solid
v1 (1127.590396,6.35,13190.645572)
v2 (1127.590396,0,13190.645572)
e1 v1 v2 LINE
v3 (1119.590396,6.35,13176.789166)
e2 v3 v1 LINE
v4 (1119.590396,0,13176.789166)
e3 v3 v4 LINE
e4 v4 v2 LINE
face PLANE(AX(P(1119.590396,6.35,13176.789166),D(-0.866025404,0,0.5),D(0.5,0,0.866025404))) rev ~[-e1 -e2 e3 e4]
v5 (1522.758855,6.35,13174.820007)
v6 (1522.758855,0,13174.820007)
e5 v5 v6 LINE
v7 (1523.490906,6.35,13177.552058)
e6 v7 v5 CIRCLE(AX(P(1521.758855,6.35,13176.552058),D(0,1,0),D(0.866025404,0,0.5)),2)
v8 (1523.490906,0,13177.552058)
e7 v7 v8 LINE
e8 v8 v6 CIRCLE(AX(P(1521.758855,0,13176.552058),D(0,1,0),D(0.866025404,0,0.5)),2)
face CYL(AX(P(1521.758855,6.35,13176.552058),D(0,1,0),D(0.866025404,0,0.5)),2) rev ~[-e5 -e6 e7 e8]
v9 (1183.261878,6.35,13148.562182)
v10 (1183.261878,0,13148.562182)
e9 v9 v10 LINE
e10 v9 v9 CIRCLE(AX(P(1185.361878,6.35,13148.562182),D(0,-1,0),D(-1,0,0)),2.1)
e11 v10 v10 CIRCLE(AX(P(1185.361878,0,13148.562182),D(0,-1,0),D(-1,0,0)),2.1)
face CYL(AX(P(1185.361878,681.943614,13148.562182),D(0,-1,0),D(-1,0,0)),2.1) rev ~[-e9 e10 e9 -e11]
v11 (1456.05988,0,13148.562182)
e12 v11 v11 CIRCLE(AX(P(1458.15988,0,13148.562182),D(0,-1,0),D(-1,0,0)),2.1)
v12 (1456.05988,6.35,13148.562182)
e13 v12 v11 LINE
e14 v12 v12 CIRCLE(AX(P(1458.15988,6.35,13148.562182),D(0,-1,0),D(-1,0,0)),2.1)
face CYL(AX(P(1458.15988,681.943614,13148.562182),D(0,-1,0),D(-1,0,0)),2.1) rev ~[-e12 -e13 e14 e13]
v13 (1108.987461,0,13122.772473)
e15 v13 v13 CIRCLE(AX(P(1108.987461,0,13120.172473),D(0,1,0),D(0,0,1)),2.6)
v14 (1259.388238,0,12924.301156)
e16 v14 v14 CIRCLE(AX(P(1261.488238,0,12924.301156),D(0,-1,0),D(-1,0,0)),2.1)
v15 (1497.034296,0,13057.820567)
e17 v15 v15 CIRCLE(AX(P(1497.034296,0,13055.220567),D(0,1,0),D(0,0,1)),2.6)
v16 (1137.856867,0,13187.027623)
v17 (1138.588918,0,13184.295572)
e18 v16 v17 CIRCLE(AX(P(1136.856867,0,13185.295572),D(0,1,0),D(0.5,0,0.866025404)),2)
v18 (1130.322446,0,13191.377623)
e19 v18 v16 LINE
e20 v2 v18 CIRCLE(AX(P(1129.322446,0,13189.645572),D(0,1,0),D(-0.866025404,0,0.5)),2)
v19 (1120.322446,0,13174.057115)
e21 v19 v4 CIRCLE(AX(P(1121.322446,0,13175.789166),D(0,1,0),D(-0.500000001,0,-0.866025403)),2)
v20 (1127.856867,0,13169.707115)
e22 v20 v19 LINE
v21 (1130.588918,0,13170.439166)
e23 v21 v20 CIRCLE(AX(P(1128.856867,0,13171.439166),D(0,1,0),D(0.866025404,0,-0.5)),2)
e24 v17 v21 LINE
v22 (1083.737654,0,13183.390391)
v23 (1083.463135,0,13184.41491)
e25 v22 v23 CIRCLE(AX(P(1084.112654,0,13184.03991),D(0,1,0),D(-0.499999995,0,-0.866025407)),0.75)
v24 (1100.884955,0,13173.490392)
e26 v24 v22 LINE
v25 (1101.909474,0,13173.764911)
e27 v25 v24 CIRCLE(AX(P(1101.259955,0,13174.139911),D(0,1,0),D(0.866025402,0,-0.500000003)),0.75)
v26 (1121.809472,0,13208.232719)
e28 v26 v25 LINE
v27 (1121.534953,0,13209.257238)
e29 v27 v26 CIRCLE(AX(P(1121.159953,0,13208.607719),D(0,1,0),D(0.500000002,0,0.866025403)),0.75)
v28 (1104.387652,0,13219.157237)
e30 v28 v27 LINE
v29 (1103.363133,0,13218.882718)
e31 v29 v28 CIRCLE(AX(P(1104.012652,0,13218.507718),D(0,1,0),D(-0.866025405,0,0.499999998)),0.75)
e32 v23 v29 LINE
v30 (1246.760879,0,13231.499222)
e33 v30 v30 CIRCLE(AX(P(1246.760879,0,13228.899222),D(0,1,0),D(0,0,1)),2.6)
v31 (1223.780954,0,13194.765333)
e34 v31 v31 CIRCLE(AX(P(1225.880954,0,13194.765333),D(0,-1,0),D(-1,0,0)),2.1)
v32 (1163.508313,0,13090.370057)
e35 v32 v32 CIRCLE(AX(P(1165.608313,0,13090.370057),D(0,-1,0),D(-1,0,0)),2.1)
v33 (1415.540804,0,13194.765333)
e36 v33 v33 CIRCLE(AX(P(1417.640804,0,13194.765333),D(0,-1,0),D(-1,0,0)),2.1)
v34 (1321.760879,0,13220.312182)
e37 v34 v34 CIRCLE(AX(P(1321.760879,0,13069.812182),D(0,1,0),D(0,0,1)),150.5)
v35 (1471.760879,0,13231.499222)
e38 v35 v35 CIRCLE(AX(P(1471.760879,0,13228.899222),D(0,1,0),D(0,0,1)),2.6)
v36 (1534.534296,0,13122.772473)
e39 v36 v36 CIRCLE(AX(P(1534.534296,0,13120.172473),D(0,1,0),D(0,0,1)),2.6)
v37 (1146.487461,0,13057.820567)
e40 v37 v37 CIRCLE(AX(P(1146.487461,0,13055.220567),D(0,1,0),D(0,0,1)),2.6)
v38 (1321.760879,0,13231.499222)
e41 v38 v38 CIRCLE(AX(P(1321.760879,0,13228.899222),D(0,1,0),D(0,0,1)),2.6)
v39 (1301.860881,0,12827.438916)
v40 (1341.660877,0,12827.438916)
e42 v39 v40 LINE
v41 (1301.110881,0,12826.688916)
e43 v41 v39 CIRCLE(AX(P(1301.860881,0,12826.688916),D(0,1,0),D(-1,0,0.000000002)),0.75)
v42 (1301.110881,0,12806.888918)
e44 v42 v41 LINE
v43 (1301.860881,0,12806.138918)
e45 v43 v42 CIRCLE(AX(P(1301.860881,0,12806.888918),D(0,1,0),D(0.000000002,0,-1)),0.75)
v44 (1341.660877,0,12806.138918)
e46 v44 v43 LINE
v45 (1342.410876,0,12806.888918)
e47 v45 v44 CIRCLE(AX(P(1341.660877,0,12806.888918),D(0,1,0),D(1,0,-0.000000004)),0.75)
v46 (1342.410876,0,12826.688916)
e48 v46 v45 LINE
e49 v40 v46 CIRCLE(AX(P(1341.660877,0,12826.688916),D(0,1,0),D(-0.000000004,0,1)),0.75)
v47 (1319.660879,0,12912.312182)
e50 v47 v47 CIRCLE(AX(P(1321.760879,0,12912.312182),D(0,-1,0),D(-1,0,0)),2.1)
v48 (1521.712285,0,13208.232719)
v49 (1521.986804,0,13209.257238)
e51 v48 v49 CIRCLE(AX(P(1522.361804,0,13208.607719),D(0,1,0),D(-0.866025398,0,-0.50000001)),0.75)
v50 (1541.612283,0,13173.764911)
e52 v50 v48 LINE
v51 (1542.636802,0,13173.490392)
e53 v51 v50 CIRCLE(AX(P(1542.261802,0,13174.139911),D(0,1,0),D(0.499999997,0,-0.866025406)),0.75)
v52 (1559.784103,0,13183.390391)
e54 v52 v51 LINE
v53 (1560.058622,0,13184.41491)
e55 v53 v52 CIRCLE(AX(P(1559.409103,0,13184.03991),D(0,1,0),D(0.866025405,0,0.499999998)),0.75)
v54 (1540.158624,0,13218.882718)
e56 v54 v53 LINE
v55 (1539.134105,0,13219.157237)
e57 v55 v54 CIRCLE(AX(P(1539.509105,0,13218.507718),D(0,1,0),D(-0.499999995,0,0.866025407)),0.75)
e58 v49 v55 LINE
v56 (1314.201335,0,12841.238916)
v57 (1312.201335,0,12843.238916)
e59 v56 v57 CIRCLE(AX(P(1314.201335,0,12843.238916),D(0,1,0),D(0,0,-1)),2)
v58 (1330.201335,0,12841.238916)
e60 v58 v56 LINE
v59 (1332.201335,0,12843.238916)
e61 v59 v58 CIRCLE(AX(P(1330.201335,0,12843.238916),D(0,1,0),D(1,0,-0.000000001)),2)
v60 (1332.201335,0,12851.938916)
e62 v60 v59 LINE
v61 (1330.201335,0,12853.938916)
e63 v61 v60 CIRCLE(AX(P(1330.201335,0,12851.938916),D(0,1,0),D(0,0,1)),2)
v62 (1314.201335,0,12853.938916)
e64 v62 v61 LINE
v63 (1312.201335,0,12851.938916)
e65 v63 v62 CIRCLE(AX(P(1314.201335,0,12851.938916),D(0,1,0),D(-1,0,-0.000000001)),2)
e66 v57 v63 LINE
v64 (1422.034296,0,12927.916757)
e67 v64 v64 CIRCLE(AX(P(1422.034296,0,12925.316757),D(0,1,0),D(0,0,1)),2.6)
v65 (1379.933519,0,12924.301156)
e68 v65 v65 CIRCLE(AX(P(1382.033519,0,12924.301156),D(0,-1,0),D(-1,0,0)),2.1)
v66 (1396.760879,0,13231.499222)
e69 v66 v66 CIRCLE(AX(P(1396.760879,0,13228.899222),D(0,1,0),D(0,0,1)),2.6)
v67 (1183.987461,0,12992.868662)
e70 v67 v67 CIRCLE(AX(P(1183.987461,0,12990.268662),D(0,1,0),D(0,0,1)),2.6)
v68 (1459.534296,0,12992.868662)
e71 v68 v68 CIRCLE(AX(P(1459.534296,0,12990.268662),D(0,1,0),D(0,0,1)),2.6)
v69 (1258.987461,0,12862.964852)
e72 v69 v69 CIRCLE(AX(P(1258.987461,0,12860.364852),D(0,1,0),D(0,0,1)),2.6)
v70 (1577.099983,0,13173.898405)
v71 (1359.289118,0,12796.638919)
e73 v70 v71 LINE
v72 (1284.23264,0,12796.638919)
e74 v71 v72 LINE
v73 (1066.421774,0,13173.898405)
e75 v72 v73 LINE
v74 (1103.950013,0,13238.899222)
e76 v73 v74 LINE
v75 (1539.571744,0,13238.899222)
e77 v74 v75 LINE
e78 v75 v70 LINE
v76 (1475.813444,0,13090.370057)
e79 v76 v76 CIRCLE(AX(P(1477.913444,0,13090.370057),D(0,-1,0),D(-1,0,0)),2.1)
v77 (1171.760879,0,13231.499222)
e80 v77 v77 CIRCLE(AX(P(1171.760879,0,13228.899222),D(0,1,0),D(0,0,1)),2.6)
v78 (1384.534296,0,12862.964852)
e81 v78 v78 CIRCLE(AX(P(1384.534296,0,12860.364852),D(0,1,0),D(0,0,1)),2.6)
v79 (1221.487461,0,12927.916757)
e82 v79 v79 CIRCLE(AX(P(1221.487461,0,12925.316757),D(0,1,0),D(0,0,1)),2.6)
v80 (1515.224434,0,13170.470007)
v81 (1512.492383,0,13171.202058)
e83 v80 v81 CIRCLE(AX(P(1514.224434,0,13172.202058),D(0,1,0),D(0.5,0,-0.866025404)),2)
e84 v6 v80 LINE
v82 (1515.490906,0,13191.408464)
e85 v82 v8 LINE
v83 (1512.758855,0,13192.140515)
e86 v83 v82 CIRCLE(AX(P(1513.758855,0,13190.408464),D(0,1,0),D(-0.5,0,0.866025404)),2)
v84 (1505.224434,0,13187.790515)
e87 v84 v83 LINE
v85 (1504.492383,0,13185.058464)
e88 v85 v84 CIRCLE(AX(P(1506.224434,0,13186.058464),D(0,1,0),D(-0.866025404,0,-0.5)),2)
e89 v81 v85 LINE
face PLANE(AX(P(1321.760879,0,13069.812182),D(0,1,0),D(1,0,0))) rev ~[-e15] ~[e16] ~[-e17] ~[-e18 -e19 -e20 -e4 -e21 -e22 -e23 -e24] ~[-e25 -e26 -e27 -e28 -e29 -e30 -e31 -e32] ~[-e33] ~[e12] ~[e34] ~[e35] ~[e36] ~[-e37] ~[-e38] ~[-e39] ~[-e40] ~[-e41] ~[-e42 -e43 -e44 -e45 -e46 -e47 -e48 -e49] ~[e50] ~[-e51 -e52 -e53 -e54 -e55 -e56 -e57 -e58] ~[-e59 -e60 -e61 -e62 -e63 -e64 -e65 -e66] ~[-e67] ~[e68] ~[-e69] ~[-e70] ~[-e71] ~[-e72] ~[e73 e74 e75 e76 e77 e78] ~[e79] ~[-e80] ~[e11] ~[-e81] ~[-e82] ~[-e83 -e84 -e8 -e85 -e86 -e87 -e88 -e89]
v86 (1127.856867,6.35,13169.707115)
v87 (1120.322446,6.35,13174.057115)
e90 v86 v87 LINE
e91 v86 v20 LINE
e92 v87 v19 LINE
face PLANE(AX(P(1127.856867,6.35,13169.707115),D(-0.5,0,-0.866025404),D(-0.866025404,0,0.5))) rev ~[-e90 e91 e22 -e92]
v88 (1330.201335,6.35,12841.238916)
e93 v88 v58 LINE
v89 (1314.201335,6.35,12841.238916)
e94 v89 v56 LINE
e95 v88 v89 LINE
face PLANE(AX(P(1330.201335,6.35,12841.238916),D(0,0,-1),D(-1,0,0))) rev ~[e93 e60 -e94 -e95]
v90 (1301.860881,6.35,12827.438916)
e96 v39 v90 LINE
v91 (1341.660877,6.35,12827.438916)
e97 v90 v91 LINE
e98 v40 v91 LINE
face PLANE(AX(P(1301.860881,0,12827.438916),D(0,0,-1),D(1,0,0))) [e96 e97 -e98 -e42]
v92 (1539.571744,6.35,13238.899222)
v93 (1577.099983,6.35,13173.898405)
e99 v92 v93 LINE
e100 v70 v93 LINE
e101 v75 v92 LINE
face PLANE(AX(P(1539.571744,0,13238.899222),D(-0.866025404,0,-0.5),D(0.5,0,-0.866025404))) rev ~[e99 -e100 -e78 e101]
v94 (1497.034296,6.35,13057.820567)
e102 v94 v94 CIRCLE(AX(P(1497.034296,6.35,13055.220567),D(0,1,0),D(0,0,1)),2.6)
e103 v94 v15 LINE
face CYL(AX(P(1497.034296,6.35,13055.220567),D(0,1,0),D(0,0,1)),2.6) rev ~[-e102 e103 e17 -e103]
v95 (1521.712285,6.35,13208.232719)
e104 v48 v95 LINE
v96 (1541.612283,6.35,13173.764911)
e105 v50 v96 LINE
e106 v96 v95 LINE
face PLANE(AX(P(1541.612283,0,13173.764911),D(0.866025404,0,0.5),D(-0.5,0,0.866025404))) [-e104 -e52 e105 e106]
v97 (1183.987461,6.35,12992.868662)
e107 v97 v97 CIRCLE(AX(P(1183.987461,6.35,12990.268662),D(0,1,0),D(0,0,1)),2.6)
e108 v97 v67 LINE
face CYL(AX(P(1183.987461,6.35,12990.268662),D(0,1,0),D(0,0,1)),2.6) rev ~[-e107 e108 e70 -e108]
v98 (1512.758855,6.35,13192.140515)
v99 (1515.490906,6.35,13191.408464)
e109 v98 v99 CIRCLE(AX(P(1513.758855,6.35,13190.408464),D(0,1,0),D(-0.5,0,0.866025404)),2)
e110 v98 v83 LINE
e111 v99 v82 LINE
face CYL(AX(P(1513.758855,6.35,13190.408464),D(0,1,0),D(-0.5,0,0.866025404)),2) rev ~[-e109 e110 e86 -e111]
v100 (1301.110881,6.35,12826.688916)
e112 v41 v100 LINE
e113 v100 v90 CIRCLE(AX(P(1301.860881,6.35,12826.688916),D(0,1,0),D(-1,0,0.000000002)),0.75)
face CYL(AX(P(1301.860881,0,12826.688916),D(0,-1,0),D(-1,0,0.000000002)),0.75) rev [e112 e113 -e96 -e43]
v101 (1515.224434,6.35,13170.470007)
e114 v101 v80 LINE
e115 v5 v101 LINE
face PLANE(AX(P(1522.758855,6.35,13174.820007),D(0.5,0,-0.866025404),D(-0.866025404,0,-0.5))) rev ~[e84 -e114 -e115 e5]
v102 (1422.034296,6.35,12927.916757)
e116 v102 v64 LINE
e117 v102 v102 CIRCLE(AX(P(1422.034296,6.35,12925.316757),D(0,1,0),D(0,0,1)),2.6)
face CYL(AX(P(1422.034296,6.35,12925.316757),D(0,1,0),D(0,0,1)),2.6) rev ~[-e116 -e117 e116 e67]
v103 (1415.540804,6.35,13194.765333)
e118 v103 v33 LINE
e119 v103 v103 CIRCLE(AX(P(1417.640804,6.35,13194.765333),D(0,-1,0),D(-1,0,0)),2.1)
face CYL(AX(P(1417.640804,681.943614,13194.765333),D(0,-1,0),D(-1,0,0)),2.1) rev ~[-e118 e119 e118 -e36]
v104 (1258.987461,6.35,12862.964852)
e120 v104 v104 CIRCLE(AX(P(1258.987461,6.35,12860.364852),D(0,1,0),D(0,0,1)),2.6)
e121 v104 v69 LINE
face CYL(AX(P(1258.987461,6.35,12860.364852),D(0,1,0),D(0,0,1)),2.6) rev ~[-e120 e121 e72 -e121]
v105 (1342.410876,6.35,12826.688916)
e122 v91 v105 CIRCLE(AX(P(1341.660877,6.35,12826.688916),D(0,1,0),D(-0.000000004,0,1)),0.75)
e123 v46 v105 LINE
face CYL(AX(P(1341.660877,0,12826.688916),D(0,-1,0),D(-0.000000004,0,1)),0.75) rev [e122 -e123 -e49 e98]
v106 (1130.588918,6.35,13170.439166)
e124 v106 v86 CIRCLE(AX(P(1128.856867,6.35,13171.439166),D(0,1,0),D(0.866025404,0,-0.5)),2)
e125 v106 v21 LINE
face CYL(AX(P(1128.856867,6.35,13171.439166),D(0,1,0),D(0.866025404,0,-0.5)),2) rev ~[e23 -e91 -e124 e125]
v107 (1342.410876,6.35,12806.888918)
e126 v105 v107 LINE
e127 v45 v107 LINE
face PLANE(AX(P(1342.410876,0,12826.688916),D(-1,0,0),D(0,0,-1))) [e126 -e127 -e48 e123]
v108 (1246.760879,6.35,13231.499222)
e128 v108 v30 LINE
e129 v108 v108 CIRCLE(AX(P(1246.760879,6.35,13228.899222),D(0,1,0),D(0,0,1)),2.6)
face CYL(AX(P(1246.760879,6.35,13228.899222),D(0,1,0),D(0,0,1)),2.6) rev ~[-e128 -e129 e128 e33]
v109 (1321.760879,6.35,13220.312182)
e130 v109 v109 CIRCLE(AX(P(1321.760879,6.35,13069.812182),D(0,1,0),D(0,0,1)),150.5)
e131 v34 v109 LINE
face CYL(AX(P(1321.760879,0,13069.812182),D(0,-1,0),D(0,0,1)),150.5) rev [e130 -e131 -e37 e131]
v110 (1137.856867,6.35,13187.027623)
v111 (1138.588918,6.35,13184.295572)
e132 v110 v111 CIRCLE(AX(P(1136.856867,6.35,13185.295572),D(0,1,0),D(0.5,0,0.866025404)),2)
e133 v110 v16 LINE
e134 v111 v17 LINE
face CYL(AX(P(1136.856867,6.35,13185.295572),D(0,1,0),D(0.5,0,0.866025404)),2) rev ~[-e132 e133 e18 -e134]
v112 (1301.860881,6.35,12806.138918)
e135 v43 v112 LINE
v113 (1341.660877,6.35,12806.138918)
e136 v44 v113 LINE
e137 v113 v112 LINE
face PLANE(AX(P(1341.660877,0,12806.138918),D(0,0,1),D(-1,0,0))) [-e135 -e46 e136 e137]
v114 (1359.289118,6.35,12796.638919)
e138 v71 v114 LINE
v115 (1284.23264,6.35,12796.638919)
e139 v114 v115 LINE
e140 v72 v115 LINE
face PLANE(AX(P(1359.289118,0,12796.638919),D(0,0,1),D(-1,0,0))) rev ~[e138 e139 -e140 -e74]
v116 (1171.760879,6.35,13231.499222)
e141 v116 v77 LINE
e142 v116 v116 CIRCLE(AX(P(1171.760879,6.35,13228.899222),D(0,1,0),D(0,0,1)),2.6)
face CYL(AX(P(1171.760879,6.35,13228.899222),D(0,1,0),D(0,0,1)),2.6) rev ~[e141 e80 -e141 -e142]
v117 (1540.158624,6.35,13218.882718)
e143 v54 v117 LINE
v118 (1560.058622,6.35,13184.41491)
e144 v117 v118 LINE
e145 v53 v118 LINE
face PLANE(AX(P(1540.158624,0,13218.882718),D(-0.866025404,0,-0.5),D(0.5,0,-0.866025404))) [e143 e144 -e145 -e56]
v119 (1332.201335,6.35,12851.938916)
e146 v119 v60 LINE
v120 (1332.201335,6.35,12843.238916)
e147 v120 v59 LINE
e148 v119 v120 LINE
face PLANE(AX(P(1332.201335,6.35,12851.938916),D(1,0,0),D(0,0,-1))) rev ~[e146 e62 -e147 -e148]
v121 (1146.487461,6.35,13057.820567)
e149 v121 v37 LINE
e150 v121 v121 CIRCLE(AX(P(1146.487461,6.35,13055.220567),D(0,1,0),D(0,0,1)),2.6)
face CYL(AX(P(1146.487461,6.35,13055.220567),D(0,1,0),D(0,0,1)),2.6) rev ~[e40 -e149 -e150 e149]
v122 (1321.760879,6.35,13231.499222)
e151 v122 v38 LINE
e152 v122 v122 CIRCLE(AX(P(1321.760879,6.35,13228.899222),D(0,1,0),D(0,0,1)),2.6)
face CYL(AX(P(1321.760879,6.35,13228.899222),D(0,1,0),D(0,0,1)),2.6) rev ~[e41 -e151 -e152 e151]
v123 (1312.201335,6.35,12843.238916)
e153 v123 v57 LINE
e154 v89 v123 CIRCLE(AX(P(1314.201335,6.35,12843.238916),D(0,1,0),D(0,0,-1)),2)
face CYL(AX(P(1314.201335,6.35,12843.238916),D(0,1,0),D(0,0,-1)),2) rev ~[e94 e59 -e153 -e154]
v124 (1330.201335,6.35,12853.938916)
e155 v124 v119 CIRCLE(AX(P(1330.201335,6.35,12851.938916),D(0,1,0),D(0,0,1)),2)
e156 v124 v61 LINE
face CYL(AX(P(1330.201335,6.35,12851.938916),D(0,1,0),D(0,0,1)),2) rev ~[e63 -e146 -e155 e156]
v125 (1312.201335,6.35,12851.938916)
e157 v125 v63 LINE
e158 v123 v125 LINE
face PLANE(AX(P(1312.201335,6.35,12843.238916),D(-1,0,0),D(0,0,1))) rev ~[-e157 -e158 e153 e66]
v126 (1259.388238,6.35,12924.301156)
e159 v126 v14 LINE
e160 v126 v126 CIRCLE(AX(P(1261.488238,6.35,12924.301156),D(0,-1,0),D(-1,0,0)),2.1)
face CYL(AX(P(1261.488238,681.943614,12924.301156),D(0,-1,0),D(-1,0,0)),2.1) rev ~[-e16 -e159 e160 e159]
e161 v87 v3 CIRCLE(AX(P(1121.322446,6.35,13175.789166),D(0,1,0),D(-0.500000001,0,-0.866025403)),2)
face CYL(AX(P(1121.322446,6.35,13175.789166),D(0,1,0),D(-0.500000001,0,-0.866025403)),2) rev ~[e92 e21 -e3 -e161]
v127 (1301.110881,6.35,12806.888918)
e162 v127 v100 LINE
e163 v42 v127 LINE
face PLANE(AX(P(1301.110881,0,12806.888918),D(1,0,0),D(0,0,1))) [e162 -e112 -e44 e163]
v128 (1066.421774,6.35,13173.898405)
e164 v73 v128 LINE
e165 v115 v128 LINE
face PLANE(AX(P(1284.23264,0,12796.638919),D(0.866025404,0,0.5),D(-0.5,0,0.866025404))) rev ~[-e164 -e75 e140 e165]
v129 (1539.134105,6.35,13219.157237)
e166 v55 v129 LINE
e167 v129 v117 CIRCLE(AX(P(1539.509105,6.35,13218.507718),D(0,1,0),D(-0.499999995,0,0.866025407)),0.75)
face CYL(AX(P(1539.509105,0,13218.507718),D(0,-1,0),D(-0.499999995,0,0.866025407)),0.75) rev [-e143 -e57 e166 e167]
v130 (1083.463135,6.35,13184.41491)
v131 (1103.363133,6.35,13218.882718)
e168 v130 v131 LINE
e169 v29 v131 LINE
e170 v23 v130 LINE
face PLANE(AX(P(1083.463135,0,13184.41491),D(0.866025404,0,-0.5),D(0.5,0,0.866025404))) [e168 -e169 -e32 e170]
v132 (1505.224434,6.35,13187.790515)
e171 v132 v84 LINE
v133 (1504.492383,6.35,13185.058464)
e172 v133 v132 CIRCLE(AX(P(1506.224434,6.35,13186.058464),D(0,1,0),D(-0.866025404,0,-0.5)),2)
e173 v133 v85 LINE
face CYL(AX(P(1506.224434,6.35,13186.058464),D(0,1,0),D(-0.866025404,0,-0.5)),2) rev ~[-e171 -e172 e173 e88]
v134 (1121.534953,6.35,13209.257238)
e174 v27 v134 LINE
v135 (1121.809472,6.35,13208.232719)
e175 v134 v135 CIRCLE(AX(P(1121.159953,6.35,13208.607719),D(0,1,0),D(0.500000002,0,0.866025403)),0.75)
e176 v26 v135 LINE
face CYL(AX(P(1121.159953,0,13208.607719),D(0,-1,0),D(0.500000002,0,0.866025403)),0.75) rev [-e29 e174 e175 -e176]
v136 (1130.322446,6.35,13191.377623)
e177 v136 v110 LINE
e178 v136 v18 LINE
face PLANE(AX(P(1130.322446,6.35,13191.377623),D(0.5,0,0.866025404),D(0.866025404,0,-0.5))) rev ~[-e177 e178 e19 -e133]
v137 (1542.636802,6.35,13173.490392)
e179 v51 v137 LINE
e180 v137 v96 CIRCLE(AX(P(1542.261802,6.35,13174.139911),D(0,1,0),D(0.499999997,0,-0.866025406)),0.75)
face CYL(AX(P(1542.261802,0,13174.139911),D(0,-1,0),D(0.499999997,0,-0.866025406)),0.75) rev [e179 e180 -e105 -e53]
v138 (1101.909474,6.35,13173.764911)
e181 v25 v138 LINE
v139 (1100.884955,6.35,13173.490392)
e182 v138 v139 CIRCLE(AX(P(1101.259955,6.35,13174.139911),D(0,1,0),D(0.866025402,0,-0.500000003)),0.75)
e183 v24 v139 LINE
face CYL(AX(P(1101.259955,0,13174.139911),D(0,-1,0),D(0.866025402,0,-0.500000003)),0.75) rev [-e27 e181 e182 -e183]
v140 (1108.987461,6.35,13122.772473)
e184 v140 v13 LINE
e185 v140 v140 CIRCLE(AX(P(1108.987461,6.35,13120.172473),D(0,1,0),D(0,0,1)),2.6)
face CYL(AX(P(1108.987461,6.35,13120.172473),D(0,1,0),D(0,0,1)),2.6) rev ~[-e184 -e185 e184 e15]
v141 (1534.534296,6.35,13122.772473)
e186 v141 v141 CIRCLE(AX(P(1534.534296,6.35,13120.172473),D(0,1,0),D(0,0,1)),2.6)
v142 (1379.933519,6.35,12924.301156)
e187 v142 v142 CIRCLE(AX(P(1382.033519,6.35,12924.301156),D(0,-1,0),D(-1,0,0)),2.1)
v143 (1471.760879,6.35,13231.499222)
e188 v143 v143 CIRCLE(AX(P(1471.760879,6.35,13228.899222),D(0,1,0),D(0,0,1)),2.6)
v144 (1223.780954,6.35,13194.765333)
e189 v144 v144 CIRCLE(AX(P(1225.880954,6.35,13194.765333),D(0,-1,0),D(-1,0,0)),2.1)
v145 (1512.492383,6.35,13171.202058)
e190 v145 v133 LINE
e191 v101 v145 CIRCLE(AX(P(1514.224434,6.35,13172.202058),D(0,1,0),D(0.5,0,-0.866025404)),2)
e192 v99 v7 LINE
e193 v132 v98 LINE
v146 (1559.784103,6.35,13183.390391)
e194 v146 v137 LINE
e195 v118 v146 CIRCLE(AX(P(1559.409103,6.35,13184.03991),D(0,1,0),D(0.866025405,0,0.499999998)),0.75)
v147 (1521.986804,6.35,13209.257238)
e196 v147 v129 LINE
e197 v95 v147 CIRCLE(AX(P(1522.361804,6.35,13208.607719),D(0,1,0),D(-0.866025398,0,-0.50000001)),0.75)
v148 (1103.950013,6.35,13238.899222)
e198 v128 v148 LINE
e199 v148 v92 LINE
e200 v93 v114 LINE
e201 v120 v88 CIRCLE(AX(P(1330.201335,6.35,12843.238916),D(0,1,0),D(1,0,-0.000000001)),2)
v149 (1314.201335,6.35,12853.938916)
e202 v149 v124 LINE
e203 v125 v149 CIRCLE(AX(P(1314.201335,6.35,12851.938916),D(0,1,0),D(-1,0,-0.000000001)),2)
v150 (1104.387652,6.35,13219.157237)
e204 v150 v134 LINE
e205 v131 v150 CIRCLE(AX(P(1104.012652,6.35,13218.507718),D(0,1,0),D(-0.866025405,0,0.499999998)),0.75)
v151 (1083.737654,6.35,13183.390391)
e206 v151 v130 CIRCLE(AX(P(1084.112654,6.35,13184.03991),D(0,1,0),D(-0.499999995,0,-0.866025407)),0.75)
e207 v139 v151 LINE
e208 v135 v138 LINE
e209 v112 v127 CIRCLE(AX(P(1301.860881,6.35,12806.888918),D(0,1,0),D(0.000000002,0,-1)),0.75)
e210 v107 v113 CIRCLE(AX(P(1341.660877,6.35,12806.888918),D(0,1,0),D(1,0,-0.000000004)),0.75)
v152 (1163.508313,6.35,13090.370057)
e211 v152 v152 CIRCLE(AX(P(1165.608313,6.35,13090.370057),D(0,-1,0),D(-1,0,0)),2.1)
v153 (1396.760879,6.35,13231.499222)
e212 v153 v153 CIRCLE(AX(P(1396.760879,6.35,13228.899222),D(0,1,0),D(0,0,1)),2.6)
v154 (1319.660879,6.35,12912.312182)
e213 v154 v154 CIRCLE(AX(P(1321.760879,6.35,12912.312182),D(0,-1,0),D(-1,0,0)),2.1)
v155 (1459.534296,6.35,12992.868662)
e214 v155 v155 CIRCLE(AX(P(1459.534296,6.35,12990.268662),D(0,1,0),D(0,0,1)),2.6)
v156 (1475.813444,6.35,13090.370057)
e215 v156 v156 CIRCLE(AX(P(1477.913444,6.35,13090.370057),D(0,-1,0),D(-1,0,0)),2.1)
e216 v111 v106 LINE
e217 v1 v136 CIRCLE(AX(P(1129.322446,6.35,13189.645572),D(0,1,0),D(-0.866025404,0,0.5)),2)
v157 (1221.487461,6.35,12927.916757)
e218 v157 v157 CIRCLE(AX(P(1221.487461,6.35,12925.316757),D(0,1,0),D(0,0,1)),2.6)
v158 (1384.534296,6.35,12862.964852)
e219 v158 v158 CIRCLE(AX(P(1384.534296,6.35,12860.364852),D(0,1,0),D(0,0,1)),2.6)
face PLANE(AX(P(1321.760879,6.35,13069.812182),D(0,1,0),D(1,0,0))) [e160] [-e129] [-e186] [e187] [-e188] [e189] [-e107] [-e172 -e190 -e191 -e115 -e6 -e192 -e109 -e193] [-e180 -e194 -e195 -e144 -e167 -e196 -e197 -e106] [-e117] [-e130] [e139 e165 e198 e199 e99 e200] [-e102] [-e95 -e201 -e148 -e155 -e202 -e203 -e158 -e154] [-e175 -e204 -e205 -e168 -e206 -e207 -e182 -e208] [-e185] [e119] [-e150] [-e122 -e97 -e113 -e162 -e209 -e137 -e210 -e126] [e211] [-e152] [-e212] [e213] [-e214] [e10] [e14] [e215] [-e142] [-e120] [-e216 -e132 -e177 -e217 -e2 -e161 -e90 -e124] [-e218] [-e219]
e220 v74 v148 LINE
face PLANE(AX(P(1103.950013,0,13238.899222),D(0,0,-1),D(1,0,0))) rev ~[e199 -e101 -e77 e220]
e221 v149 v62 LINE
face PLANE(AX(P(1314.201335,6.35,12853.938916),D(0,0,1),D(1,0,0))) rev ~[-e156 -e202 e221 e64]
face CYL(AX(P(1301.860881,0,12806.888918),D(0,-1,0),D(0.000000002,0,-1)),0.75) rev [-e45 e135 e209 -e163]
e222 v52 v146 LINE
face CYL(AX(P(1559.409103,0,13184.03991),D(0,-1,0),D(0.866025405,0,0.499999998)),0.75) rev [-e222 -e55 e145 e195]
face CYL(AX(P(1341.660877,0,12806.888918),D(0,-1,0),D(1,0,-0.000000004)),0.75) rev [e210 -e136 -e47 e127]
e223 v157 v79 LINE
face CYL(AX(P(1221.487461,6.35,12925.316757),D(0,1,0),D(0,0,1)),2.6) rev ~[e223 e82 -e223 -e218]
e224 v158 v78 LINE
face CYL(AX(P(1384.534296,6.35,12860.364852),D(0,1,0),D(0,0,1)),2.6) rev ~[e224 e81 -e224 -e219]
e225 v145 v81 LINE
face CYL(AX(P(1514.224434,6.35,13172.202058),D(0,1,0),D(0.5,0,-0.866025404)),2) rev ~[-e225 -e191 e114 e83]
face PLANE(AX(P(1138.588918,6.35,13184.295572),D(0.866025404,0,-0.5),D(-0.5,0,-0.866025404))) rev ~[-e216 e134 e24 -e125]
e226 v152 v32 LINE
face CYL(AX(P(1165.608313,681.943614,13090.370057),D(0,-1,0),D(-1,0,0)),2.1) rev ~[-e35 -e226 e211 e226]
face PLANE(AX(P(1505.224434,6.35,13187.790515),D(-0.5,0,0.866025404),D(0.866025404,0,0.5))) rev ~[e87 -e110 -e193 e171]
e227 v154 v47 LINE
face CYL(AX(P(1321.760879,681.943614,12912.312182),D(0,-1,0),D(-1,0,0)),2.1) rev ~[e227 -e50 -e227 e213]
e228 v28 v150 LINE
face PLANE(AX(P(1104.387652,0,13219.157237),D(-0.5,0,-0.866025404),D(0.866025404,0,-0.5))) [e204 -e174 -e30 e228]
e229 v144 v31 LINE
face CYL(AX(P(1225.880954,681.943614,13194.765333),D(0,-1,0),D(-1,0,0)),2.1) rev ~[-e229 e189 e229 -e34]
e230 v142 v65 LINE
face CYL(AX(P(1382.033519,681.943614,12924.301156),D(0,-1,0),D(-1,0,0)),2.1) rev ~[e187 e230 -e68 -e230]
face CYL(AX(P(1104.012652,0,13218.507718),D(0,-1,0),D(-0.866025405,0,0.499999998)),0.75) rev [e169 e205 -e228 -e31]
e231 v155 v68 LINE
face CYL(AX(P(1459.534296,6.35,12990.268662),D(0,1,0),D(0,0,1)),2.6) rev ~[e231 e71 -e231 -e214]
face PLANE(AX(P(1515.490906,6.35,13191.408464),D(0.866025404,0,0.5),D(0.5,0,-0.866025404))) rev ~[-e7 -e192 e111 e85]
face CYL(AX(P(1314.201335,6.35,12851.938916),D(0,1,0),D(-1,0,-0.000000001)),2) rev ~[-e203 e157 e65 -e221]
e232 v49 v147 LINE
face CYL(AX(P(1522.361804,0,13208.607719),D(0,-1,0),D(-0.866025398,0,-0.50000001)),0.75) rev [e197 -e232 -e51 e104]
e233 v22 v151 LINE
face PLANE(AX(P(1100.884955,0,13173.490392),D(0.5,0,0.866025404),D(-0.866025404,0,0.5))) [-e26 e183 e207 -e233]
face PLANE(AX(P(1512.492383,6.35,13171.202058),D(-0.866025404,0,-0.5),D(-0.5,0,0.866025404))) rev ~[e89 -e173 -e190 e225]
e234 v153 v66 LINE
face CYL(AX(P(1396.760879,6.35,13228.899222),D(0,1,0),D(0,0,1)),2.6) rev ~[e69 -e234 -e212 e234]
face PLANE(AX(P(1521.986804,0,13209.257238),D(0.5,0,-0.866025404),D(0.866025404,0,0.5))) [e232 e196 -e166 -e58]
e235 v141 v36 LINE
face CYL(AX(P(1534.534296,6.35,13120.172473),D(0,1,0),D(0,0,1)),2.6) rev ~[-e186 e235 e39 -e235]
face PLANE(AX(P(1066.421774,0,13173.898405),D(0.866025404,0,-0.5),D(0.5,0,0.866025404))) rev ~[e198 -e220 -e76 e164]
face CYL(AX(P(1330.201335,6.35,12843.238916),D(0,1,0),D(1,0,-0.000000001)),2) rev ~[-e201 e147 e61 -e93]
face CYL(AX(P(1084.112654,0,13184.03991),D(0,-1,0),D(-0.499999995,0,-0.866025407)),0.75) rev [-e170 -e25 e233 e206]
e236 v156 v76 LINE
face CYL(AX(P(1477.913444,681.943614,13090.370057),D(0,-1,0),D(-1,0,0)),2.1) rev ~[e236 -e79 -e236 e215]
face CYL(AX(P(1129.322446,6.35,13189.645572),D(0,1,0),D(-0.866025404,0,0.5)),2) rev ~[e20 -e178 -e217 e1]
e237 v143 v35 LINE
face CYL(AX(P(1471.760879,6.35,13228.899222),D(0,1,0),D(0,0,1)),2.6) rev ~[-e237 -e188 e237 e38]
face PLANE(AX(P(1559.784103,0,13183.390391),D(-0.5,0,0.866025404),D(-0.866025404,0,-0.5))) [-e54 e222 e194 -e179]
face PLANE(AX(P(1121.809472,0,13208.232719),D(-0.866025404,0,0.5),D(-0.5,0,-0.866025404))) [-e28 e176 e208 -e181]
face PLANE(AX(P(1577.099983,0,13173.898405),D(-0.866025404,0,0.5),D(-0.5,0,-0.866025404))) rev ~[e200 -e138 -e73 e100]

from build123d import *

# Parameters (mm, degrees)
SKETCH1_R             = 150.5
BOSS_EXTRUDE1_DEPTH   = 6.35
SKETCH3_R             = 2.6
CUT_EXTRUDE2_DEPTH    = 10
M5X0_8_TAPPED_HOLE1_D = 4.2
CUT_EXTRUDE3_DEPTH    = 10


with BuildPart() as part:
    # Sketch1 → Boss-Extrude1 (new body)
    with BuildSketch(Plane(origin=(-388.281715987, 0, -288.185661777), x_dir=(1, 0, 0), z_dir=(0, 1, 0))):
        Polygon((1747.570833697, -13084.824581071), (1672.514355591, -13084.824581071), (1454.703489965, -13462.084066777), (1492.231729019, -13527.084883536), (1927.853460271, -13527.084883536), (1965.381699324, -13462.084066777), align=None)
        with Locations(Location((1710.042594644, -13357.997843795, 0), (0, 0, 270))):
            Circle(SKETCH1_R, mode=Mode.SUBTRACT)
        with BuildLine():
            Line((1730.692592416, -13114.874577827), (1730.692592416, -13095.074579966))
            ThreePointArc((1730.692592416, -13095.074579966), (1730.472922526, -13094.544249938), (1729.942592497, -13094.324580043))
            Line((1729.942592497, -13094.324580043), (1690.142596792, -13094.324580043))
            ThreePointArc((1690.142596792, -13094.324580043), (1689.612266761, -13094.544249935), (1689.392596873, -13095.074579966))
            Line((1689.392596873, -13095.074579966), (1689.392596873, -13114.874577827))
            ThreePointArc((1689.392596873, -13114.874577827), (1689.612266763, -13115.404907856), (1690.142596792, -13115.62457775))
            Line((1690.142596792, -13115.62457775), (1729.942592497, -13115.62457775))
            ThreePointArc((1729.942592497, -13115.62457775), (1730.472922528, -13115.404907859), (1730.692592416, -13114.874577827))
        make_face(mode=Mode.SUBTRACT)
        with BuildLine():
            Line((1492.669367808, -13507.342898369), (1509.816668952, -13497.442899438))
            ThreePointArc((1509.816668952, -13497.442899438), (1510.166113284, -13496.987494718), (1510.091187977, -13496.418380495))
            Line((1510.091187977, -13496.418380495), (1490.191190123, -13461.950573141))
            ThreePointArc((1490.191190123, -13461.950573141), (1489.735785404, -13461.60112881), (1489.166671181, -13461.676054117))
            Line((1489.166671181, -13461.676054117), (1472.019370034, -13471.57605305))
            ThreePointArc((1472.019370034, -13471.57605305), (1471.669925699, -13472.031457773), (1471.744851013, -13472.600571998))
            Line((1471.744851013, -13472.600571998), (1491.644848864, -13507.068379347))
            ThreePointArc((1491.644848864, -13507.068379347), (1492.100253585, -13507.41782368), (1492.669367808, -13507.342898369))
        make_face(mode=Mode.SUBTRACT)
        with BuildLine():
            Line((1948.065819252, -13471.576053055), (1930.918518105, -13461.676054122))
            ThreePointArc((1930.918518105, -13461.676054122), (1930.349403886, -13461.601128813), (1929.893999164, -13461.95057314))
            Line((1929.893999164, -13461.95057314), (1909.99400131, -13496.418380494))
            ThreePointArc((1909.99400131, -13496.418380494), (1909.919076, -13496.98749472), (1910.268520339, -13497.442899434))
            Line((1910.268520339, -13497.442899434), (1927.415821483, -13507.342898365))
            ThreePointArc((1927.415821483, -13507.342898365), (1927.984935702, -13507.417823673), (1928.440340423, -13507.068379346))
            Line((1928.440340423, -13507.068379346), (1948.340338275, -13472.600571997))
            ThreePointArc((1948.340338275, -13472.600571997), (1948.415263583, -13472.031457775), (1948.065819252, -13471.576053055))
        make_face(mode=Mode.SUBTRACT)
    extrude(amount=BOSS_EXTRUDE1_DEPTH)

    # Sketch3 → Cut-Extrude2 (cut)
    with BuildSketch(Plane(origin=(0, 6.35, 0), x_dir=(1, 0, 0), z_dir=(0, 1, 0))):
        with Locations(Location((1183.987460829, -12990.268662147, 0), (0, 0, 270))):
            Circle(SKETCH3_R)
        with Locations(Location((1146.487460829, -13055.220567431, 0), (0, 0, 270))):
            Circle(SKETCH3_R)
        with Locations(Location((1108.987460829, -13120.172472715, 0), (0, 0, 270))):
            Circle(SKETCH3_R)
        with Locations(Location((1221.487460829, -12925.316756863, 0), (0, 0, 270))):
            Circle(SKETCH3_R)
        with Locations(Location((1258.987460829, -12860.364851579, 0), (0, 0, 270))):
            Circle(SKETCH3_R)
        with Locations(Location((1459.534296487, -12990.268662148, 0), (0, 0, 270))):
            Circle(SKETCH3_R)
        with Locations(Location((1497.034296487, -13055.220567432, 0), (0, 0, 270))):
            Circle(SKETCH3_R)
        with Locations(Location((1534.534296487, -13120.172472716, 0), (0, 0, 270))):
            Circle(SKETCH3_R)
        with Locations(Location((1422.034296487, -12925.316756864, 0), (0, 0, 270))):
            Circle(SKETCH3_R)
        with Locations(Location((1384.534296487, -12860.364851581, 0), (0, 0, 270))):
            Circle(SKETCH3_R)
        with Locations(Location((1321.760878657, -13228.899221759, 0), (0, 0, 270))):
            Circle(SKETCH3_R)
        with Locations(Location((1246.760878657, -13228.899221759, 0), (0, 0, 270))):
            Circle(SKETCH3_R)
        with Locations(Location((1171.760878657, -13228.899221759, 0), (0, 0, 270))):
            Circle(SKETCH3_R)
        with Locations(Location((1396.760878657, -13228.899221759, 0), (0, 0, 270))):
            Circle(SKETCH3_R)
        with Locations(Location((1471.760878657, -13228.899221759, 0), (0, 0, 270))):
            Circle(SKETCH3_R)
    extrude(amount=-CUT_EXTRUDE2_DEPTH, mode=Mode.SUBTRACT)

    # M5x0.8 Tapped Hole1 (through all)
    with Locations(Plane(origin=(0, 6.35, 0), x_dir=(1, 0, 0), z_dir=(0, 1, 0))):
        with Locations((1321.760878658, -12912.312182018), (1321.760878658, -13069.812182018), (1382.033519255, -12924.301155648), (1261.48823806, -12924.301155648), (1185.361877562, -13148.562182018), (1165.608312991, -13090.370057293), (1225.880953589, -13194.765333114), (1417.640803726, -13194.765333114), (1458.159879754, -13148.562182018), (1477.913444324, -13090.370057293)):
            Hole(M5X0_8_TAPPED_HOLE1_D / 2)

    # Sketch9 → Cut-Extrude3 (cut)
    with BuildSketch(Plane(origin=(0, 6.35, 0), x_dir=(1, 0, 0), z_dir=(0, 1, 0))):
        with BuildLine():
            Line((1522.758854804, -13174.820007204), (1515.224433791, -13170.470007204))
            ThreePointArc((1515.224433791, -13170.470007204), (1513.706795701, -13170.270206359), (1512.492382983, -13171.202058012))
            Line((1512.492382983, -13171.202058012), (1504.492382983, -13185.058464472))
            ThreePointArc((1504.492382983, -13185.058464472), (1504.292582138, -13186.576102563), (1505.224433791, -13187.79051528))
            Line((1505.224433791, -13187.79051528), (1512.758854804, -13192.14051528))
            ThreePointArc((1512.758854804, -13192.14051528), (1514.276492894, -13192.340316125), (1515.490905611, -13191.408464472))
            Line((1515.490905611, -13191.408464472), (1523.490905611, -13177.552058012))
            ThreePointArc((1523.490905611, -13177.552058012), (1523.690706456, -13176.034419922), (1522.758854804, -13174.820007204))
        make_face()
        with BuildLine():
            Line((1312.201334792, -12843.238915973), (1312.201334792, -12851.938915973))
            ThreePointArc((1312.201334792, -12851.938915973), (1312.787121229, -12853.353129536), (1314.201334792, -12853.938915973))
            Line((1314.201334792, -12853.938915973), (1330.201334792, -12853.938915973))
            ThreePointArc((1330.201334792, -12853.938915973), (1331.615548354, -12853.353129536), (1332.201334792, -12851.938915973))
            Line((1332.201334792, -12851.938915973), (1332.201334792, -12843.238915973))
            ThreePointArc((1332.201334792, -12843.238915973), (1331.615548354, -12841.824702411), (1330.201334792, -12841.238915973))
            Line((1330.201334792, -12841.238915973), (1314.201334792, -12841.238915973))
            ThreePointArc((1314.201334792, -12841.238915973), (1312.787121229, -12841.824702411), (1312.201334792, -12843.238915973))
        make_face()
        with BuildLine():
            Line((1130.322446377, -13191.377622877), (1137.85686739, -13187.027622877))
            ThreePointArc((1137.85686739, -13187.027622877), (1138.788719043, -13185.81321016), (1138.588918198, -13184.29557207))
            Line((1138.588918198, -13184.29557207), (1130.588918198, -13170.439165609))
            ThreePointArc((1130.588918198, -13170.439165609), (1129.37450548, -13169.507313956), (1127.85686739, -13169.707114801))
            Line((1127.85686739, -13169.707114801), (1120.322446377, -13174.057114801))
            ThreePointArc((1120.322446377, -13174.057114801), (1119.390594725, -13175.271527519), (1119.59039557, -13176.789165609))
            Line((1119.59039557, -13176.789165609), (1127.59039557, -13190.64557207))
            ThreePointArc((1127.59039557, -13190.64557207), (1128.804808287, -13191.577423722), (1130.322446377, -13191.377622877))
        make_face()
    extrude(amount=-CUT_EXTRUDE3_DEPTH, mode=Mode.SUBTRACT)


solid = part.part
